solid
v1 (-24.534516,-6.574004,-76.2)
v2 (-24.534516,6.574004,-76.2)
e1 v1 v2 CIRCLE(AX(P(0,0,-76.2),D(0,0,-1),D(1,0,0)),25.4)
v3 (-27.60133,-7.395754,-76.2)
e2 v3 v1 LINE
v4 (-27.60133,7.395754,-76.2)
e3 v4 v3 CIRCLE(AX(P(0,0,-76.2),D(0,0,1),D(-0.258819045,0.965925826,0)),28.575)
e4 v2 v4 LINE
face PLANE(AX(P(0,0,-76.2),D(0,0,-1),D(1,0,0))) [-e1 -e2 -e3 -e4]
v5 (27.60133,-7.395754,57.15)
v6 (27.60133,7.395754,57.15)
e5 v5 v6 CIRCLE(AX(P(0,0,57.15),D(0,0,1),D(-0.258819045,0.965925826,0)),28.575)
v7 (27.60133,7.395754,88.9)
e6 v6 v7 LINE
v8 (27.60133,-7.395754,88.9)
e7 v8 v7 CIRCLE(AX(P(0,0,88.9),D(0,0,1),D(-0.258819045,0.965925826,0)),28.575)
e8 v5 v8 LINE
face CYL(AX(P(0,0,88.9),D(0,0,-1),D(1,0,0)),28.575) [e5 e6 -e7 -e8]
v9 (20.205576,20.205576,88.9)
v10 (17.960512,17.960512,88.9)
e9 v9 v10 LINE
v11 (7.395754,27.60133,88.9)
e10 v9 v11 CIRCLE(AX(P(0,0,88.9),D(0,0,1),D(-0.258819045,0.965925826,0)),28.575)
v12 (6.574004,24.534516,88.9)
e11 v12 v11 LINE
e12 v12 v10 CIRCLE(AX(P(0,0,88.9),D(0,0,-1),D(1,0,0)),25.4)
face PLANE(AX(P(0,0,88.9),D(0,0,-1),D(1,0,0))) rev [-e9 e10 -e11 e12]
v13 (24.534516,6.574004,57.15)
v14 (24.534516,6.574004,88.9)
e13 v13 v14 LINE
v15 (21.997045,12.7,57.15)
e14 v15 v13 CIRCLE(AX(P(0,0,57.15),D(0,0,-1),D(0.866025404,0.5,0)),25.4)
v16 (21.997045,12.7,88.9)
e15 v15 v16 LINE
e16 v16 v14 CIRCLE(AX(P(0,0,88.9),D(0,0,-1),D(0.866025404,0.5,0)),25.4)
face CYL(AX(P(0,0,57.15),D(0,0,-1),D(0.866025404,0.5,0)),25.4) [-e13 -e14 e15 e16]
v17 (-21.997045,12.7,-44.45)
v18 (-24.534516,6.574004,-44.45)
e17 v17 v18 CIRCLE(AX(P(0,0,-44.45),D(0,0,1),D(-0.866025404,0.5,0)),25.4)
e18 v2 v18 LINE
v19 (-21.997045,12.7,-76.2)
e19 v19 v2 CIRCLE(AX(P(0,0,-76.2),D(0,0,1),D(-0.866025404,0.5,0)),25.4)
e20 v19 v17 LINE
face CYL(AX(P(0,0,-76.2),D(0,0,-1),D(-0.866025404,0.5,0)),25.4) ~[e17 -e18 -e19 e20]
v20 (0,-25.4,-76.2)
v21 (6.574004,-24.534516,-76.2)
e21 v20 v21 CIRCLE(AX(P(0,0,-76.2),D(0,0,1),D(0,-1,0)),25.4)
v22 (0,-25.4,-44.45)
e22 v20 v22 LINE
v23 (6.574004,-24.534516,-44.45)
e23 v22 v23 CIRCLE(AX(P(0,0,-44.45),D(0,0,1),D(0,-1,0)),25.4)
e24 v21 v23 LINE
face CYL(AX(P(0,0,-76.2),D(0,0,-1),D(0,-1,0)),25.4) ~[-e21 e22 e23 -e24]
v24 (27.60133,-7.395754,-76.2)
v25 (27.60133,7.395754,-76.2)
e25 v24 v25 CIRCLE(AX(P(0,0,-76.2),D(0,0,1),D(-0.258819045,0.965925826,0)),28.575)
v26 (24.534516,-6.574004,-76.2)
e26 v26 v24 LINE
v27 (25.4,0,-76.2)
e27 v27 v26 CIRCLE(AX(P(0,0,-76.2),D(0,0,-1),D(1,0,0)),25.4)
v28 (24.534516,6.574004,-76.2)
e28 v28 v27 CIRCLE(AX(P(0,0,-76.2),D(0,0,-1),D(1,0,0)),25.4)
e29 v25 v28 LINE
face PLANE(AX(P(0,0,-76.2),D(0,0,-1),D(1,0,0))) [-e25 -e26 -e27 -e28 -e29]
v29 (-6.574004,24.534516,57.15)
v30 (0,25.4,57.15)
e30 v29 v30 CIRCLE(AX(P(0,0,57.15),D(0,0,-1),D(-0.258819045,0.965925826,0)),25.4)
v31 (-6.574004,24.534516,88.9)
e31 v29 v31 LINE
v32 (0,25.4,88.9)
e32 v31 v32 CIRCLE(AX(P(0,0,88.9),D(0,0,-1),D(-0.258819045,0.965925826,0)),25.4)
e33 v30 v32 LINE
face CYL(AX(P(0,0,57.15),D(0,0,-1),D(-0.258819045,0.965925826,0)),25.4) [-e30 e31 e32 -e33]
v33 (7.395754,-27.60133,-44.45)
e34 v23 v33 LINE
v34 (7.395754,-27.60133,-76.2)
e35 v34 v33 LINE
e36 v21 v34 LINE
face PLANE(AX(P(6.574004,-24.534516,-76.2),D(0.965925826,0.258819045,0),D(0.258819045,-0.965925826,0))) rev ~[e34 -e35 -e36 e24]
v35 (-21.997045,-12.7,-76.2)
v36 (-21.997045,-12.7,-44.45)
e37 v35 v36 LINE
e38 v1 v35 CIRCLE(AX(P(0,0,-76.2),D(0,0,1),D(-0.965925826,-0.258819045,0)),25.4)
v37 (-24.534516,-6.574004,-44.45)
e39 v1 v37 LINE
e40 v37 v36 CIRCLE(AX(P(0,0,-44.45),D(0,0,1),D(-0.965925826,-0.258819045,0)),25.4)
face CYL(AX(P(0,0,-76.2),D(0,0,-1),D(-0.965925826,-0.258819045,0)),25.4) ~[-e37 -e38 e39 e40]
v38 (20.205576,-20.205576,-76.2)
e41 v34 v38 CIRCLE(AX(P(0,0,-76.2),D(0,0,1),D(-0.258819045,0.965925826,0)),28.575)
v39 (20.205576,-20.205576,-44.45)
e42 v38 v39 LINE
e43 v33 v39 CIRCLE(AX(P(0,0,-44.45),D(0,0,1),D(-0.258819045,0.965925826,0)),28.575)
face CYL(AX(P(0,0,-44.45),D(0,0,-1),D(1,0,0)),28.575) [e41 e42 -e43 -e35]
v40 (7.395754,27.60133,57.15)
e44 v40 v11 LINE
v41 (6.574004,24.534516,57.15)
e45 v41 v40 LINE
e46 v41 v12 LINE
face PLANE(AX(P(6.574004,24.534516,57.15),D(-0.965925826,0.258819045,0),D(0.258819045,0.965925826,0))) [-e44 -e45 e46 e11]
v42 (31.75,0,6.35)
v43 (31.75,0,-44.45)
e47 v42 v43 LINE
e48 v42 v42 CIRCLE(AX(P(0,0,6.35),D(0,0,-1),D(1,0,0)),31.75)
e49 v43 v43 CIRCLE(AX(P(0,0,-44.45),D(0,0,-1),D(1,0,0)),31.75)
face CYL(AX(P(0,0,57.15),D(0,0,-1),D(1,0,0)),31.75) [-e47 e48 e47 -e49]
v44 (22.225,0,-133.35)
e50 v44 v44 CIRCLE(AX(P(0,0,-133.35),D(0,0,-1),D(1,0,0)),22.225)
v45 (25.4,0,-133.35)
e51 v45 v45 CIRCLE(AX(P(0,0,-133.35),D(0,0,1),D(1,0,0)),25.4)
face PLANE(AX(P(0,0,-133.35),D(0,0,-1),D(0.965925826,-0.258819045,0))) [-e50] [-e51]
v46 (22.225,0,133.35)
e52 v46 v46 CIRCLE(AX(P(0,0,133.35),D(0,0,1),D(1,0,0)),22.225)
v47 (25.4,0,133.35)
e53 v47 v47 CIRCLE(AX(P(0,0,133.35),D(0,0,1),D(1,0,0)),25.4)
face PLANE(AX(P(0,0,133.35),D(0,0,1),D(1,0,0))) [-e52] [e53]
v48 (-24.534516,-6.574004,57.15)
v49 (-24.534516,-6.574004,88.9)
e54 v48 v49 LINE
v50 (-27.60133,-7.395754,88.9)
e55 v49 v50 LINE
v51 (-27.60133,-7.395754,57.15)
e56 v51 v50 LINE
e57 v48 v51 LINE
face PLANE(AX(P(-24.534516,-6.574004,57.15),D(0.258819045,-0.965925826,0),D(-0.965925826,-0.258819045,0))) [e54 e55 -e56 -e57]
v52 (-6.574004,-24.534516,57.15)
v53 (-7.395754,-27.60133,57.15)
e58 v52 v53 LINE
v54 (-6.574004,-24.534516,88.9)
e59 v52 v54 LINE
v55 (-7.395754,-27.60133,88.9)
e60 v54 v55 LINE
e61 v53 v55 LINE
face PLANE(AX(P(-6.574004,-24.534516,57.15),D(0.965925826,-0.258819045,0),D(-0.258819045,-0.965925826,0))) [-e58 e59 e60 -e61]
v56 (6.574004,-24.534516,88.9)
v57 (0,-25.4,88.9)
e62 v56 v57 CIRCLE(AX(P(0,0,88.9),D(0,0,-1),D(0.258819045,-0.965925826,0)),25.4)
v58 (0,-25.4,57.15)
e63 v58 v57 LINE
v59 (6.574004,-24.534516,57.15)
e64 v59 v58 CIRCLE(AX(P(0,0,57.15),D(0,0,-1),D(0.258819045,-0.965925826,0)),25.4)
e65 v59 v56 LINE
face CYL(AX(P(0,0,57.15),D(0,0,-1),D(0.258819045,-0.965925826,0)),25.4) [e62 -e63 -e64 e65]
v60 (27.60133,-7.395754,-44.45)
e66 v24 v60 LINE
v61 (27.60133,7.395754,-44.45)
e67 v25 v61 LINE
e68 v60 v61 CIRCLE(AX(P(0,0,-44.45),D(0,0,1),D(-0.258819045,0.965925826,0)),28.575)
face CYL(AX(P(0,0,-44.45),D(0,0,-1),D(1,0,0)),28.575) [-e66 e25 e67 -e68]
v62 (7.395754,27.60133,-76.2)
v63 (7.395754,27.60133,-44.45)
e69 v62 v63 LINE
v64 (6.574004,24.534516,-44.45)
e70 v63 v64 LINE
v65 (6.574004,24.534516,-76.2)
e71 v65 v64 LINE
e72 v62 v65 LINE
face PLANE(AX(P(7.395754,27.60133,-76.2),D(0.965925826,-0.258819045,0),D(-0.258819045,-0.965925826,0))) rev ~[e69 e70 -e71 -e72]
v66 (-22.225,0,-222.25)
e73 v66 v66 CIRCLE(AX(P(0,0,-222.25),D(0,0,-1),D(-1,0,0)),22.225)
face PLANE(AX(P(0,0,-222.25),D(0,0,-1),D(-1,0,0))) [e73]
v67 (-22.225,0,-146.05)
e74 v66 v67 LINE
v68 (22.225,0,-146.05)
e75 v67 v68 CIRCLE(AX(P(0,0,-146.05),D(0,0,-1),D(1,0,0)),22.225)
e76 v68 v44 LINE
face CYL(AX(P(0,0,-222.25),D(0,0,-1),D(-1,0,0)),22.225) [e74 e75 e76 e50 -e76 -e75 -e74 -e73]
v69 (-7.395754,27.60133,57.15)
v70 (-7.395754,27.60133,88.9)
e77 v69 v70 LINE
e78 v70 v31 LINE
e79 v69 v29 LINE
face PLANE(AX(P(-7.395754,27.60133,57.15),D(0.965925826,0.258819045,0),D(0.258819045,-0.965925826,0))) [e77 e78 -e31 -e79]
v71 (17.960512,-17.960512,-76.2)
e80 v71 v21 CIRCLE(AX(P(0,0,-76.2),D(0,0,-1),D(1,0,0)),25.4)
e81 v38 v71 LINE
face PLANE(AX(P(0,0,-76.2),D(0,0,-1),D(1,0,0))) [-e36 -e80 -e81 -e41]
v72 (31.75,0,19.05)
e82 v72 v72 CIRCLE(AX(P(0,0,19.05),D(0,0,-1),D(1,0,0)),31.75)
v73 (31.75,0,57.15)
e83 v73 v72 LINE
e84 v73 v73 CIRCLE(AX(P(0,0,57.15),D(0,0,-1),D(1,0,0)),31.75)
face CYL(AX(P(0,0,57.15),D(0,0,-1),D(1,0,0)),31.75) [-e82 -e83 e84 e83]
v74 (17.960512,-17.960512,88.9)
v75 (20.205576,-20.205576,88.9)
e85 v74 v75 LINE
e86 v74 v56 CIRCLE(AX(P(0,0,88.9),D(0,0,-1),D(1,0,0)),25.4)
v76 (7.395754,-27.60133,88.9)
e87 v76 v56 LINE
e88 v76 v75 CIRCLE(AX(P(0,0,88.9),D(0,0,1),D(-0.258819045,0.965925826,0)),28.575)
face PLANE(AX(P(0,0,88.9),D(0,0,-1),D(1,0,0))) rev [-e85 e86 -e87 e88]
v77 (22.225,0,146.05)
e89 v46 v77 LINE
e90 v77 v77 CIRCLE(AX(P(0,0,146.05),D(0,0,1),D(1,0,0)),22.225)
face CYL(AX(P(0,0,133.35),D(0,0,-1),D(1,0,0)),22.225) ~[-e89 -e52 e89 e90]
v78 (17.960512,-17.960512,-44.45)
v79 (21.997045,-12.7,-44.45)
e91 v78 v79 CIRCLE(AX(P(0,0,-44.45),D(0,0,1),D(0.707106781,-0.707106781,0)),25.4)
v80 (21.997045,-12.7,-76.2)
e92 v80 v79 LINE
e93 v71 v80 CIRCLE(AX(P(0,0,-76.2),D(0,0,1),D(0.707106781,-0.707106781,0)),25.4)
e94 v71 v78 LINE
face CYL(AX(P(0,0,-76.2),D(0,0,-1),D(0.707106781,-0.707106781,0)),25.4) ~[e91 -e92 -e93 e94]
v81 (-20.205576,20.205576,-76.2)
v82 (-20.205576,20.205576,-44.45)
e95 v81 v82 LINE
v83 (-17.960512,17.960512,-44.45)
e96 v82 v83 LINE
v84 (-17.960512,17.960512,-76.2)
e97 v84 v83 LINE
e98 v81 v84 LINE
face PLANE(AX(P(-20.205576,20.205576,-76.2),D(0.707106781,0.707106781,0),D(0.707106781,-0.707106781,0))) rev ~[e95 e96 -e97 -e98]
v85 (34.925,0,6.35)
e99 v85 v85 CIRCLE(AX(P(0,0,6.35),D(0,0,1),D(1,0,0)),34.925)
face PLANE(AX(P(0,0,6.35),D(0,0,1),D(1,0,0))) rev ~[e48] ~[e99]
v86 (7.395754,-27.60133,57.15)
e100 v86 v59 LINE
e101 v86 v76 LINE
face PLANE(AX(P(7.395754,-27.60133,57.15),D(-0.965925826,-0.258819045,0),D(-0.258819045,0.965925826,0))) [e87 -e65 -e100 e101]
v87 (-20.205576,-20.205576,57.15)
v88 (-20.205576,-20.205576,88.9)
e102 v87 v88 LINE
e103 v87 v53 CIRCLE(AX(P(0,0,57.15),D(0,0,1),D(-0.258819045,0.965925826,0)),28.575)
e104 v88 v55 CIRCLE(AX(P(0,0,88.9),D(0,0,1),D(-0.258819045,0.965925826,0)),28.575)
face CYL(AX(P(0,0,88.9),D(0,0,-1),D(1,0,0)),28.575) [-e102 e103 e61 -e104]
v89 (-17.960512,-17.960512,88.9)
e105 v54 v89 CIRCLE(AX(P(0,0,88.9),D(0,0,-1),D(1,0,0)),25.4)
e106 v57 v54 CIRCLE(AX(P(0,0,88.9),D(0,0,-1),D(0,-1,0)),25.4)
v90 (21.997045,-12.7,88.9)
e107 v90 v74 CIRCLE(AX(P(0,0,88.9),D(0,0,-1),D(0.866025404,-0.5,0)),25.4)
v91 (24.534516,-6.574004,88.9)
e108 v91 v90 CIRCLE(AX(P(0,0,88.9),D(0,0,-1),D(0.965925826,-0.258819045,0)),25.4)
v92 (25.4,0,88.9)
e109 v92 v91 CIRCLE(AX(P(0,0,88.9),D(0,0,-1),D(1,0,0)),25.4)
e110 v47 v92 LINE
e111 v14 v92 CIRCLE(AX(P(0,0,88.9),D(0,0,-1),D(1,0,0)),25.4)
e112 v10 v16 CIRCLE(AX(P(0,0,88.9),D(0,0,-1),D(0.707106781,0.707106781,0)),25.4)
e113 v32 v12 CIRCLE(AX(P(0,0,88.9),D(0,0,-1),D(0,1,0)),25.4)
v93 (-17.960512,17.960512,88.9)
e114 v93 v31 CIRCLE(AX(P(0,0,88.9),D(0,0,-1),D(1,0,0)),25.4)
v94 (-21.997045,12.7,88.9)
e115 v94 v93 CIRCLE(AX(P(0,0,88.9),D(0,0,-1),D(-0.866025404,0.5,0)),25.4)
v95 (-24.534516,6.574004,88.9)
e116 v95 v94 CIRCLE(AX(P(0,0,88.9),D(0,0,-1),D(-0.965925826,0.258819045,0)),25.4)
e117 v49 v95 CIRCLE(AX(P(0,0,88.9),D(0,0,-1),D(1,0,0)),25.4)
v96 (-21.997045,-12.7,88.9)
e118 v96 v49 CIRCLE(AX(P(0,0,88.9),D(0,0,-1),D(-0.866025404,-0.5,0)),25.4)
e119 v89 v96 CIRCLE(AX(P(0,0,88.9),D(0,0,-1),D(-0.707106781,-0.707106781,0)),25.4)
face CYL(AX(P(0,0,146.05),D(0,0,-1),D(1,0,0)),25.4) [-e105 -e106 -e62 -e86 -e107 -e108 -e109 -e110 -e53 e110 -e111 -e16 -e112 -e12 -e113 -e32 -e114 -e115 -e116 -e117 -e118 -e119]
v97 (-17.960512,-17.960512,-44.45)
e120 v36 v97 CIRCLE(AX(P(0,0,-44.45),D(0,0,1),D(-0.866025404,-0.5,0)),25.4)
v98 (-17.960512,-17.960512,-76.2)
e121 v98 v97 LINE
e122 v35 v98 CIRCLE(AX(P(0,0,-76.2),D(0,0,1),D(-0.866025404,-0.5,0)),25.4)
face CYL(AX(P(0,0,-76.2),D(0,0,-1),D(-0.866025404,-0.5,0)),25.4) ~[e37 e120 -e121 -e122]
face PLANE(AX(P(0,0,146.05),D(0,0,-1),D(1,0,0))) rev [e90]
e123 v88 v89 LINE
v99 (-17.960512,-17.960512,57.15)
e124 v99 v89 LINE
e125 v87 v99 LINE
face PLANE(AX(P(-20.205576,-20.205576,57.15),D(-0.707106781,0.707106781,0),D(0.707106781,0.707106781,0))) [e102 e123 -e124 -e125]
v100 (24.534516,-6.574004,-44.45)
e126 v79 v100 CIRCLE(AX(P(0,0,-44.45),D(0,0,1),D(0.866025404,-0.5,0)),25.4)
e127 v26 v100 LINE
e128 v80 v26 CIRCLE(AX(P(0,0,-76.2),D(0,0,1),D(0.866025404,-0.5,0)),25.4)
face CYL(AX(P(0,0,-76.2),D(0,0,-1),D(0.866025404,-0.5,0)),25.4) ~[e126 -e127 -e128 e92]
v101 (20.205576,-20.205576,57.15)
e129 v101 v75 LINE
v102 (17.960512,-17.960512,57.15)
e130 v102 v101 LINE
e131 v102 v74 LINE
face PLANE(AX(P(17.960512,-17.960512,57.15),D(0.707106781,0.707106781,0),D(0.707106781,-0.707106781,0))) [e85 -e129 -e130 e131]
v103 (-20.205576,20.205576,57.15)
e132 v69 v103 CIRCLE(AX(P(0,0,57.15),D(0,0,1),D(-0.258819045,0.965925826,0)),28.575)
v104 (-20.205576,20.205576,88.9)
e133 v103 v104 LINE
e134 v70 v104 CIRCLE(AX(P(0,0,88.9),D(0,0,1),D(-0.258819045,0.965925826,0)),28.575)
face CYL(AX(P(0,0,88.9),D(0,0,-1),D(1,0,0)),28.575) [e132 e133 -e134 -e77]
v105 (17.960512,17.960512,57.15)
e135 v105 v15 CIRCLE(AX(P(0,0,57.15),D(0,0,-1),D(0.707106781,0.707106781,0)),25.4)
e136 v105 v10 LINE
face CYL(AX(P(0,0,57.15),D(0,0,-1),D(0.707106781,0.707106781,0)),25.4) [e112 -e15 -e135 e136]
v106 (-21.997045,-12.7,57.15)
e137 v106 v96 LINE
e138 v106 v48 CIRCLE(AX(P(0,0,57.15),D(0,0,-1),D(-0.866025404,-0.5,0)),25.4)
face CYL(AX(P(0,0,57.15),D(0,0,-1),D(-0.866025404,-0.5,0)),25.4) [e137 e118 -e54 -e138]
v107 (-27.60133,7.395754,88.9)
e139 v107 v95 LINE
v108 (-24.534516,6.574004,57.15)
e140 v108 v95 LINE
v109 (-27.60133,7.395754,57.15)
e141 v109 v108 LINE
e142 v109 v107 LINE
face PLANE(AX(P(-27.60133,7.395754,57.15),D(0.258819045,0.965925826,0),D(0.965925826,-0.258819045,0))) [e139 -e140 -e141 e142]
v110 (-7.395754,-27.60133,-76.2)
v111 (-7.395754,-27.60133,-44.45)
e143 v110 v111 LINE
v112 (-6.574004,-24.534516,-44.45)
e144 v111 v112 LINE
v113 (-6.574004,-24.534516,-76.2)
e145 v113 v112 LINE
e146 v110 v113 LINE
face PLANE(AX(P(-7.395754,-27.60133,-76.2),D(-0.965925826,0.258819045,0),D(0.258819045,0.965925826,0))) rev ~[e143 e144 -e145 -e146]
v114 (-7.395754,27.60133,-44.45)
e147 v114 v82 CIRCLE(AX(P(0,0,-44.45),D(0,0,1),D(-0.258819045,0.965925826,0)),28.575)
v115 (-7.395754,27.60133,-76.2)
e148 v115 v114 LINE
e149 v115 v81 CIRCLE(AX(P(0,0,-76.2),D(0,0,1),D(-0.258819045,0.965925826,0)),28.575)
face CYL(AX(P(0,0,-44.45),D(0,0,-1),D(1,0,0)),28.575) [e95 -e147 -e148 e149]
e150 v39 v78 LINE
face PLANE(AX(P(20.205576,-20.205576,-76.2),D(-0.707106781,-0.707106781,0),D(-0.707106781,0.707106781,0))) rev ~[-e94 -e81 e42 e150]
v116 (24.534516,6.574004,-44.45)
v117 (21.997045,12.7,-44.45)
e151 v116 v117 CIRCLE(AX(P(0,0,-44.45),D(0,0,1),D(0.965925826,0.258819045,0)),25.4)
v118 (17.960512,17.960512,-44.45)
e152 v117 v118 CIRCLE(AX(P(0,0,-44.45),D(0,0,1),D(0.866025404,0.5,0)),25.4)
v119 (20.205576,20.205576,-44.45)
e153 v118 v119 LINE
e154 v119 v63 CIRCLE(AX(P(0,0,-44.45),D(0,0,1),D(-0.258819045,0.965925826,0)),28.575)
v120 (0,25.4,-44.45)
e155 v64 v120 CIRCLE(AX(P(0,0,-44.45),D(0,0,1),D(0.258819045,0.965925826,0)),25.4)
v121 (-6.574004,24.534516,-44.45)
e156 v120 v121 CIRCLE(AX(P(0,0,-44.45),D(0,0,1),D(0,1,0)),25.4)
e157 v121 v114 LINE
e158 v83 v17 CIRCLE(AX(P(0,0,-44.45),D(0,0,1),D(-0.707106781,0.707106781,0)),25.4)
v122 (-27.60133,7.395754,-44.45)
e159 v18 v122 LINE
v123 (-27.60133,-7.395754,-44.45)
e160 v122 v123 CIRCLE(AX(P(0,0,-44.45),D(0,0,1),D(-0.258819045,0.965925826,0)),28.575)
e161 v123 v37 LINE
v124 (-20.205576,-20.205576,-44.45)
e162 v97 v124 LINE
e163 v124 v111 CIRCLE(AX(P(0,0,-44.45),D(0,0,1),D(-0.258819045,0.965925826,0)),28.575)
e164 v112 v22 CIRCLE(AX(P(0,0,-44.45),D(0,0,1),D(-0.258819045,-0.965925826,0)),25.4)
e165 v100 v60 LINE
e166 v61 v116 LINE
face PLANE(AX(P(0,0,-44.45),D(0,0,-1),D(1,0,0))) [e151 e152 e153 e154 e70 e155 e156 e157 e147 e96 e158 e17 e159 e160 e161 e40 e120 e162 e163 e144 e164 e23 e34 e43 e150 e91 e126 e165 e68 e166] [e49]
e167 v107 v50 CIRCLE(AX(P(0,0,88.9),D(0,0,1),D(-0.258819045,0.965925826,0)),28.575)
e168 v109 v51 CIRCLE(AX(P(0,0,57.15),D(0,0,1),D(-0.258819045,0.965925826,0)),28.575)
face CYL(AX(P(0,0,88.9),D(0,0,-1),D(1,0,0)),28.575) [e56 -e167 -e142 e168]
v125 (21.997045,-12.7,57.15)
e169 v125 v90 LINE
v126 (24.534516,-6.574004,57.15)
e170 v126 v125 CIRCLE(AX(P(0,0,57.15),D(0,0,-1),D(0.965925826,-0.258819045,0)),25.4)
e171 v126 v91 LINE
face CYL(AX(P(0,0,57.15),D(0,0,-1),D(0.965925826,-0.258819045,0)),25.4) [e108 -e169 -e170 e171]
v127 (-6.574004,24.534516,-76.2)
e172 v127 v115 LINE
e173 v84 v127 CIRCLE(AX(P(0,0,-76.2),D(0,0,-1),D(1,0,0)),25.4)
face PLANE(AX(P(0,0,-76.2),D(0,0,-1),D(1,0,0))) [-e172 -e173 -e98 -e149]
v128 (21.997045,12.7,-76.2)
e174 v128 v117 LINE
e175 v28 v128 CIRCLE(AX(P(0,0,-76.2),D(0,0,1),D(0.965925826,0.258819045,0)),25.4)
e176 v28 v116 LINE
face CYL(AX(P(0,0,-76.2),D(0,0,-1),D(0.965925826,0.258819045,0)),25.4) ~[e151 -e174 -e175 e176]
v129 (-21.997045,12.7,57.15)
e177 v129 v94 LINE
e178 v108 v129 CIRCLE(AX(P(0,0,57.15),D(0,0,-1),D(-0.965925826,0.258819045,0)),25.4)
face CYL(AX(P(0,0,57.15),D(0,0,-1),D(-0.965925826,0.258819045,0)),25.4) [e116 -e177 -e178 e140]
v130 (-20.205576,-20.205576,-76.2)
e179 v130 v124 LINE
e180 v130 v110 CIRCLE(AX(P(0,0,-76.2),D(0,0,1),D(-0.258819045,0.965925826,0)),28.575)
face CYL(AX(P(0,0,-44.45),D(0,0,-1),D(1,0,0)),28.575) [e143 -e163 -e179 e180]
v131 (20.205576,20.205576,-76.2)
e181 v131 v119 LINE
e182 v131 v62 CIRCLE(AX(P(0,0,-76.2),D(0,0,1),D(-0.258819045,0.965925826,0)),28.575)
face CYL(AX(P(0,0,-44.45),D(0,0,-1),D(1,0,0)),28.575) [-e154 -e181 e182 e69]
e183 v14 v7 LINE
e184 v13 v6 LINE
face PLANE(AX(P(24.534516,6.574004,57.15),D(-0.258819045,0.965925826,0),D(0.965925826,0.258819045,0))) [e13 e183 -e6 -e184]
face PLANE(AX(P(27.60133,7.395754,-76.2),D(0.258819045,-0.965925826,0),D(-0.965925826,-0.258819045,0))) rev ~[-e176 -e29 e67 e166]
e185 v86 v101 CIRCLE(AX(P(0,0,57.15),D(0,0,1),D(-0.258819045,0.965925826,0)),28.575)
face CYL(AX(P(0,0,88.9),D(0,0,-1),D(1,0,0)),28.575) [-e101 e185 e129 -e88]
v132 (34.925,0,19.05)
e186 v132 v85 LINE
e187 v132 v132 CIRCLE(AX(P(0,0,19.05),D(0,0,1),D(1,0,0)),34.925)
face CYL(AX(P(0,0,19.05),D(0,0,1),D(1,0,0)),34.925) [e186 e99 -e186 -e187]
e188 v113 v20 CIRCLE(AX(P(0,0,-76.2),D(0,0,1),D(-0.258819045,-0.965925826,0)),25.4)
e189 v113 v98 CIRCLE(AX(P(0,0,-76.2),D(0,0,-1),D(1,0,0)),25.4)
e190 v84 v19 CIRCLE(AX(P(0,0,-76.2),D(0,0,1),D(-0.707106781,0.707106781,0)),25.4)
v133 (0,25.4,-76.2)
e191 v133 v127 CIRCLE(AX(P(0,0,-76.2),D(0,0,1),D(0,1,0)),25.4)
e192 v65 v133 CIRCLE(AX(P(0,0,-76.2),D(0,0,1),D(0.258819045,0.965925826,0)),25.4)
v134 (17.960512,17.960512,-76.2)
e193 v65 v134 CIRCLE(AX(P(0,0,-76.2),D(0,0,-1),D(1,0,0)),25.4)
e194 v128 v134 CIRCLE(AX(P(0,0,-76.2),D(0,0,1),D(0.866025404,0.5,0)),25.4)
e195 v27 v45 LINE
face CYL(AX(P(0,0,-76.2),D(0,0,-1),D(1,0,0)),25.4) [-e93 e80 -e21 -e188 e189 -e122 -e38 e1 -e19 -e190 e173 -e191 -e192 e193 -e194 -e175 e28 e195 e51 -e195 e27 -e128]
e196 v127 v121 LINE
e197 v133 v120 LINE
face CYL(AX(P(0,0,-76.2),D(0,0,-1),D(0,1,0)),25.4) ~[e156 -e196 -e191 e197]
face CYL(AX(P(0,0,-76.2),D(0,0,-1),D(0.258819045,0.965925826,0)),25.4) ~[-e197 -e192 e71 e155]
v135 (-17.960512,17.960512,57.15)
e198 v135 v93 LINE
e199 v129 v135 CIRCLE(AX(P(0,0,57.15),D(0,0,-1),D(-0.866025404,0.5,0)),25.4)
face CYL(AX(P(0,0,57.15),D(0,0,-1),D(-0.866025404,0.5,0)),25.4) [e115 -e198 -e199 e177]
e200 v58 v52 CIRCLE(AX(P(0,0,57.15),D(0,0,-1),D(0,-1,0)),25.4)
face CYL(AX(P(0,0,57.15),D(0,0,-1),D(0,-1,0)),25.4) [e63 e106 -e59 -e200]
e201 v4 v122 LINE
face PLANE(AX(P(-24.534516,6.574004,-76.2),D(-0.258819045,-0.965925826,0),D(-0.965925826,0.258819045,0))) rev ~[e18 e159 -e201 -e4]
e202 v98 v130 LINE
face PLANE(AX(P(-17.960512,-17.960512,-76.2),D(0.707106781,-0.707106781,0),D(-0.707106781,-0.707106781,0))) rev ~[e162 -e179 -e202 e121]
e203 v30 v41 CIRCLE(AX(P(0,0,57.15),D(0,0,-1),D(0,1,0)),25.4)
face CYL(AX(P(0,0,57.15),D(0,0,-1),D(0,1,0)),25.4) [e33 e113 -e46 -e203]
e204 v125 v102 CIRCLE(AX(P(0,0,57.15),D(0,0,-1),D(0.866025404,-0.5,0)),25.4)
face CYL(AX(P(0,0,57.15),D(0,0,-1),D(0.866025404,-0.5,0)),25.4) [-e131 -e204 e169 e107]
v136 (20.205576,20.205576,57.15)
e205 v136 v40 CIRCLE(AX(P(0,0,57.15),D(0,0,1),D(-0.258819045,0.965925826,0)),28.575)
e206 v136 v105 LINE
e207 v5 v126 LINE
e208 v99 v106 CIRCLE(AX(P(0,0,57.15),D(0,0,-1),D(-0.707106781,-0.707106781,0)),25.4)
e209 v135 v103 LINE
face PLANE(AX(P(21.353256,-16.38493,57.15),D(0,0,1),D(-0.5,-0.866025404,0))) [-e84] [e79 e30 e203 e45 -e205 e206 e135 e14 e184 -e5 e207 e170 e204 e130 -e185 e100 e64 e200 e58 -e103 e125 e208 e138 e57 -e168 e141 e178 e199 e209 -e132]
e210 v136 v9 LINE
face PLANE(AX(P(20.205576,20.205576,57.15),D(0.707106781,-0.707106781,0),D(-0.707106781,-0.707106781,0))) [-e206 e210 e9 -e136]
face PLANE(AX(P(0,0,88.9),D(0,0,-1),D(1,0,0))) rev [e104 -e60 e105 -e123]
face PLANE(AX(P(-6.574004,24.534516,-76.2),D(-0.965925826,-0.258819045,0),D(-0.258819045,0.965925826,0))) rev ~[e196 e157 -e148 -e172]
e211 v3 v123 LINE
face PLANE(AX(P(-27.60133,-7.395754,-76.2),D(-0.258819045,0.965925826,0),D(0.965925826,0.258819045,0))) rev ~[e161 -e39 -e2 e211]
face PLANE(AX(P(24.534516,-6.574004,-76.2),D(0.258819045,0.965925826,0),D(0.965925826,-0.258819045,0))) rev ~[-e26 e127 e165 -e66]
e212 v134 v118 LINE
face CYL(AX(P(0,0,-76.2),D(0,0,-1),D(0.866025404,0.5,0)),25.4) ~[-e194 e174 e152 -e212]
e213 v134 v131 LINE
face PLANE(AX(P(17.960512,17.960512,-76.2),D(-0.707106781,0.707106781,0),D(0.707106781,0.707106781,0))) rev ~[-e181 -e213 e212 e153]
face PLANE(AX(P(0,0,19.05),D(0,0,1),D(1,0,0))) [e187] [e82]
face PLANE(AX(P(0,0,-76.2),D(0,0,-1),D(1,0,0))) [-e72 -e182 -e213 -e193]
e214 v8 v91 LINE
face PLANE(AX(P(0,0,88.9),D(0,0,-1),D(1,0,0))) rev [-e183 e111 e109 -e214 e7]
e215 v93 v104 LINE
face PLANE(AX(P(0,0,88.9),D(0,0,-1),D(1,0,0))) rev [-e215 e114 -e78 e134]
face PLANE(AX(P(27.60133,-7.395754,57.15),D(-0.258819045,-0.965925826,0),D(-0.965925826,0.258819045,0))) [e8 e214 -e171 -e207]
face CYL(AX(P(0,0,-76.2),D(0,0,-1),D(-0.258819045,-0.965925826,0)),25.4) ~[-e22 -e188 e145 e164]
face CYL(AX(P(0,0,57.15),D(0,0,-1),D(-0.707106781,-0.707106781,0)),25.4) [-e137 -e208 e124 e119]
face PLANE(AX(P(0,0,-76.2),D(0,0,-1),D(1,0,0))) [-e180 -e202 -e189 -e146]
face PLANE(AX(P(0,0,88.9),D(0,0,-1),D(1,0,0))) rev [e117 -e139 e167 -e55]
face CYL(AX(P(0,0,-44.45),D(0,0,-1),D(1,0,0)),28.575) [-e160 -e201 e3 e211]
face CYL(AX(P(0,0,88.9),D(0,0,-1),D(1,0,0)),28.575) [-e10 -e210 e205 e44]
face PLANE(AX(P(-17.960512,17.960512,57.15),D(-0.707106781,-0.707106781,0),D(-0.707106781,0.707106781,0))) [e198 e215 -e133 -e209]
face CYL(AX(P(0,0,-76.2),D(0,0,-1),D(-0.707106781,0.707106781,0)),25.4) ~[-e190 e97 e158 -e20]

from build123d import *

# Parameters (mm, degrees)
CUT_EXTRUDE2_START  = -31.75
CUT_EXTRUDE2_DEPTH  = 31.75
CIRPATTERN1_COUNT   = 6
CUT_EXTRUDE3_DEPTH  = 31.75
CIRPATTERN2_COUNT   = 6
CUT_EXTRUDE4_START  = -12.7
SKETCH7_R           = 25.4
SKETCH7_R_2         = 22.225
CUT_EXTRUDE4_DEPTH  = 12.7
SKETCH8_R           = 25.4
SKETCH8_R_2         = 22.225
CUT_EXTRUDE5_DEPTH  = 12.7
BOSS_EXTRUDE1_START = -38.1
SKETCH9_R           = 34.925
BOSS_EXTRUDE1_DEPTH = 12.7
BOSS_EXTRUDE2_START = 76.2
SKETCH10_R          = 22.225
BOSS_EXTRUDE2_DEPTH = 76.2


with BuildPart() as part:
    # Sketch3 → Revolve1 (revolve)
    with BuildSketch(Plane(origin=(0, 0, 0), x_dir=(0, 0, -1), z_dir=(1, 0, 0)), mode=Mode.PRIVATE) as revolve1_sk:
        Polygon((-146.05, 0), (-146.05, 25.4), (-88.9, 25.4), (-88.9, 28.575), (-57.15, 28.575), (-57.15, 31.75), (44.45, 31.75), (44.45, 28.575), (76.2, 28.575), (76.2, 25.4), (146.05, 25.4), (146.05, 0), align=None)
    revolve(revolve1_sk.sketch.rotate(Axis((0, 0, 128.279136691), (0, 0, -1)), 90), axis=Axis((0, 0, 128.279136691), (0, 0, -1)))

    # Sketch5 → Cut-Extrude2 (cut)
    with BuildSketch(Plane.XY.offset(88.9).offset(CUT_EXTRUDE2_START)):
        with BuildLine():
            Line((0, 28.575), (0, 25.4))
            ThreePointArc((0, 25.4), (3.315365282, 25.182699479), (6.574003746, 24.534515988))
            Line((6.574003746, 24.534515988), (7.395754214, 27.601330486))
            ThreePointArc((7.395754214, 27.601330486), (3.729785943, 28.330536914), (0, 28.575))
        make_face()
        with BuildLine():
            ThreePointArc((-6.574003746, 24.534515988), (-3.315365282, 25.182699479), (0, 25.4))
            Line((0, 25.4), (0, 28.575))
            ThreePointArc((0, 28.575), (-3.729785943, 28.330536914), (-7.395754214, 27.601330486))
            Line((-7.395754214, 27.601330486), (-6.574003746, 24.534515988))
        make_face()
    cut_extrude2 = extrude(amount=CUT_EXTRUDE2_DEPTH, mode=Mode.SUBTRACT)

    # CirPattern1: Cut-Extrude2 ×6 about axis
    cirpattern1_axis = Axis((0, 0, 0), (0, 0, 1))
    for i in range(1, CIRPATTERN1_COUNT):
        add(cut_extrude2.rotate(cirpattern1_axis, i * 360 / CIRPATTERN1_COUNT), mode=Mode.SUBTRACT)

    # Sketch6 → Cut-Extrude3 (cut)
    with BuildSketch(Plane(origin=(0, 0, -76.2), x_dir=(-1, 0, 0), z_dir=(0, 0, -1))):
        with BuildLine():
            Line((0, 28.575), (0, 25.4))
            ThreePointArc((0, 25.4), (3.315365282, 25.182699479), (6.574003746, 24.534515988))
            Line((6.574003746, 24.534515988), (7.395754214, 27.601330486))
            ThreePointArc((7.395754214, 27.601330486), (3.729785943, 28.330536914), (0, 28.575))
        make_face()
        with BuildLine():
            ThreePointArc((-6.574003746, 24.534515988), (-3.315365282, 25.182699479), (0, 25.4))
            Line((0, 25.4), (0, 28.575))
            ThreePointArc((0, 28.575), (-3.729785943, 28.330536914), (-7.395754214, 27.601330486))
            Line((-7.395754214, 27.601330486), (-6.574003746, 24.534515988))
        make_face()
    cut_extrude3 = extrude(amount=-CUT_EXTRUDE3_DEPTH, mode=Mode.SUBTRACT)

    # CirPattern2: Cut-Extrude3 ×6 about axis
    cirpattern2_axis = Axis((0, 0, 0), (0, 0, 1))
    for i in range(1, CIRPATTERN2_COUNT):
        add(cut_extrude3.rotate(cirpattern2_axis, i * 360 / CIRPATTERN2_COUNT), mode=Mode.SUBTRACT)

    # Sketch7 → Cut-Extrude4 (cut)
    with BuildSketch(Plane.XY.offset(146.05).offset(CUT_EXTRUDE4_START)):
        Circle(SKETCH7_R)
        Circle(SKETCH7_R_2, mode=Mode.SUBTRACT)
    extrude(amount=CUT_EXTRUDE4_DEPTH, mode=Mode.SUBTRACT)

    # Sketch8 → Cut-Extrude5 (cut)
    with BuildSketch(Plane(origin=(0, 0, -146.05), x_dir=(-1, 0, 0), z_dir=(0, 0, -1))):
        with Locations(Location((0, 0, 0), (0, 0, 195))):
            Circle(SKETCH8_R)
        with Locations(Location((0, 0, 0), (0, 0, 180))):
            Circle(SKETCH8_R_2, mode=Mode.SUBTRACT)
    extrude(amount=-CUT_EXTRUDE5_DEPTH, mode=Mode.SUBTRACT)

    # Sketch9 → Boss-Extrude1 (add)
    with BuildSketch(Plane.XY.offset(57.15).offset(BOSS_EXTRUDE1_START)):
        Circle(SKETCH9_R)
    extrude(amount=-BOSS_EXTRUDE1_DEPTH)

    # Sketch10 → Boss-Extrude2 (add)
    with BuildSketch(Plane(origin=(0, 0, -146.05), x_dir=(-1, 0, 0), z_dir=(0, 0, -1)).offset(BOSS_EXTRUDE2_START)):
        Circle(SKETCH10_R)
    extrude(amount=-BOSS_EXTRUDE2_DEPTH)


solid = part.part
